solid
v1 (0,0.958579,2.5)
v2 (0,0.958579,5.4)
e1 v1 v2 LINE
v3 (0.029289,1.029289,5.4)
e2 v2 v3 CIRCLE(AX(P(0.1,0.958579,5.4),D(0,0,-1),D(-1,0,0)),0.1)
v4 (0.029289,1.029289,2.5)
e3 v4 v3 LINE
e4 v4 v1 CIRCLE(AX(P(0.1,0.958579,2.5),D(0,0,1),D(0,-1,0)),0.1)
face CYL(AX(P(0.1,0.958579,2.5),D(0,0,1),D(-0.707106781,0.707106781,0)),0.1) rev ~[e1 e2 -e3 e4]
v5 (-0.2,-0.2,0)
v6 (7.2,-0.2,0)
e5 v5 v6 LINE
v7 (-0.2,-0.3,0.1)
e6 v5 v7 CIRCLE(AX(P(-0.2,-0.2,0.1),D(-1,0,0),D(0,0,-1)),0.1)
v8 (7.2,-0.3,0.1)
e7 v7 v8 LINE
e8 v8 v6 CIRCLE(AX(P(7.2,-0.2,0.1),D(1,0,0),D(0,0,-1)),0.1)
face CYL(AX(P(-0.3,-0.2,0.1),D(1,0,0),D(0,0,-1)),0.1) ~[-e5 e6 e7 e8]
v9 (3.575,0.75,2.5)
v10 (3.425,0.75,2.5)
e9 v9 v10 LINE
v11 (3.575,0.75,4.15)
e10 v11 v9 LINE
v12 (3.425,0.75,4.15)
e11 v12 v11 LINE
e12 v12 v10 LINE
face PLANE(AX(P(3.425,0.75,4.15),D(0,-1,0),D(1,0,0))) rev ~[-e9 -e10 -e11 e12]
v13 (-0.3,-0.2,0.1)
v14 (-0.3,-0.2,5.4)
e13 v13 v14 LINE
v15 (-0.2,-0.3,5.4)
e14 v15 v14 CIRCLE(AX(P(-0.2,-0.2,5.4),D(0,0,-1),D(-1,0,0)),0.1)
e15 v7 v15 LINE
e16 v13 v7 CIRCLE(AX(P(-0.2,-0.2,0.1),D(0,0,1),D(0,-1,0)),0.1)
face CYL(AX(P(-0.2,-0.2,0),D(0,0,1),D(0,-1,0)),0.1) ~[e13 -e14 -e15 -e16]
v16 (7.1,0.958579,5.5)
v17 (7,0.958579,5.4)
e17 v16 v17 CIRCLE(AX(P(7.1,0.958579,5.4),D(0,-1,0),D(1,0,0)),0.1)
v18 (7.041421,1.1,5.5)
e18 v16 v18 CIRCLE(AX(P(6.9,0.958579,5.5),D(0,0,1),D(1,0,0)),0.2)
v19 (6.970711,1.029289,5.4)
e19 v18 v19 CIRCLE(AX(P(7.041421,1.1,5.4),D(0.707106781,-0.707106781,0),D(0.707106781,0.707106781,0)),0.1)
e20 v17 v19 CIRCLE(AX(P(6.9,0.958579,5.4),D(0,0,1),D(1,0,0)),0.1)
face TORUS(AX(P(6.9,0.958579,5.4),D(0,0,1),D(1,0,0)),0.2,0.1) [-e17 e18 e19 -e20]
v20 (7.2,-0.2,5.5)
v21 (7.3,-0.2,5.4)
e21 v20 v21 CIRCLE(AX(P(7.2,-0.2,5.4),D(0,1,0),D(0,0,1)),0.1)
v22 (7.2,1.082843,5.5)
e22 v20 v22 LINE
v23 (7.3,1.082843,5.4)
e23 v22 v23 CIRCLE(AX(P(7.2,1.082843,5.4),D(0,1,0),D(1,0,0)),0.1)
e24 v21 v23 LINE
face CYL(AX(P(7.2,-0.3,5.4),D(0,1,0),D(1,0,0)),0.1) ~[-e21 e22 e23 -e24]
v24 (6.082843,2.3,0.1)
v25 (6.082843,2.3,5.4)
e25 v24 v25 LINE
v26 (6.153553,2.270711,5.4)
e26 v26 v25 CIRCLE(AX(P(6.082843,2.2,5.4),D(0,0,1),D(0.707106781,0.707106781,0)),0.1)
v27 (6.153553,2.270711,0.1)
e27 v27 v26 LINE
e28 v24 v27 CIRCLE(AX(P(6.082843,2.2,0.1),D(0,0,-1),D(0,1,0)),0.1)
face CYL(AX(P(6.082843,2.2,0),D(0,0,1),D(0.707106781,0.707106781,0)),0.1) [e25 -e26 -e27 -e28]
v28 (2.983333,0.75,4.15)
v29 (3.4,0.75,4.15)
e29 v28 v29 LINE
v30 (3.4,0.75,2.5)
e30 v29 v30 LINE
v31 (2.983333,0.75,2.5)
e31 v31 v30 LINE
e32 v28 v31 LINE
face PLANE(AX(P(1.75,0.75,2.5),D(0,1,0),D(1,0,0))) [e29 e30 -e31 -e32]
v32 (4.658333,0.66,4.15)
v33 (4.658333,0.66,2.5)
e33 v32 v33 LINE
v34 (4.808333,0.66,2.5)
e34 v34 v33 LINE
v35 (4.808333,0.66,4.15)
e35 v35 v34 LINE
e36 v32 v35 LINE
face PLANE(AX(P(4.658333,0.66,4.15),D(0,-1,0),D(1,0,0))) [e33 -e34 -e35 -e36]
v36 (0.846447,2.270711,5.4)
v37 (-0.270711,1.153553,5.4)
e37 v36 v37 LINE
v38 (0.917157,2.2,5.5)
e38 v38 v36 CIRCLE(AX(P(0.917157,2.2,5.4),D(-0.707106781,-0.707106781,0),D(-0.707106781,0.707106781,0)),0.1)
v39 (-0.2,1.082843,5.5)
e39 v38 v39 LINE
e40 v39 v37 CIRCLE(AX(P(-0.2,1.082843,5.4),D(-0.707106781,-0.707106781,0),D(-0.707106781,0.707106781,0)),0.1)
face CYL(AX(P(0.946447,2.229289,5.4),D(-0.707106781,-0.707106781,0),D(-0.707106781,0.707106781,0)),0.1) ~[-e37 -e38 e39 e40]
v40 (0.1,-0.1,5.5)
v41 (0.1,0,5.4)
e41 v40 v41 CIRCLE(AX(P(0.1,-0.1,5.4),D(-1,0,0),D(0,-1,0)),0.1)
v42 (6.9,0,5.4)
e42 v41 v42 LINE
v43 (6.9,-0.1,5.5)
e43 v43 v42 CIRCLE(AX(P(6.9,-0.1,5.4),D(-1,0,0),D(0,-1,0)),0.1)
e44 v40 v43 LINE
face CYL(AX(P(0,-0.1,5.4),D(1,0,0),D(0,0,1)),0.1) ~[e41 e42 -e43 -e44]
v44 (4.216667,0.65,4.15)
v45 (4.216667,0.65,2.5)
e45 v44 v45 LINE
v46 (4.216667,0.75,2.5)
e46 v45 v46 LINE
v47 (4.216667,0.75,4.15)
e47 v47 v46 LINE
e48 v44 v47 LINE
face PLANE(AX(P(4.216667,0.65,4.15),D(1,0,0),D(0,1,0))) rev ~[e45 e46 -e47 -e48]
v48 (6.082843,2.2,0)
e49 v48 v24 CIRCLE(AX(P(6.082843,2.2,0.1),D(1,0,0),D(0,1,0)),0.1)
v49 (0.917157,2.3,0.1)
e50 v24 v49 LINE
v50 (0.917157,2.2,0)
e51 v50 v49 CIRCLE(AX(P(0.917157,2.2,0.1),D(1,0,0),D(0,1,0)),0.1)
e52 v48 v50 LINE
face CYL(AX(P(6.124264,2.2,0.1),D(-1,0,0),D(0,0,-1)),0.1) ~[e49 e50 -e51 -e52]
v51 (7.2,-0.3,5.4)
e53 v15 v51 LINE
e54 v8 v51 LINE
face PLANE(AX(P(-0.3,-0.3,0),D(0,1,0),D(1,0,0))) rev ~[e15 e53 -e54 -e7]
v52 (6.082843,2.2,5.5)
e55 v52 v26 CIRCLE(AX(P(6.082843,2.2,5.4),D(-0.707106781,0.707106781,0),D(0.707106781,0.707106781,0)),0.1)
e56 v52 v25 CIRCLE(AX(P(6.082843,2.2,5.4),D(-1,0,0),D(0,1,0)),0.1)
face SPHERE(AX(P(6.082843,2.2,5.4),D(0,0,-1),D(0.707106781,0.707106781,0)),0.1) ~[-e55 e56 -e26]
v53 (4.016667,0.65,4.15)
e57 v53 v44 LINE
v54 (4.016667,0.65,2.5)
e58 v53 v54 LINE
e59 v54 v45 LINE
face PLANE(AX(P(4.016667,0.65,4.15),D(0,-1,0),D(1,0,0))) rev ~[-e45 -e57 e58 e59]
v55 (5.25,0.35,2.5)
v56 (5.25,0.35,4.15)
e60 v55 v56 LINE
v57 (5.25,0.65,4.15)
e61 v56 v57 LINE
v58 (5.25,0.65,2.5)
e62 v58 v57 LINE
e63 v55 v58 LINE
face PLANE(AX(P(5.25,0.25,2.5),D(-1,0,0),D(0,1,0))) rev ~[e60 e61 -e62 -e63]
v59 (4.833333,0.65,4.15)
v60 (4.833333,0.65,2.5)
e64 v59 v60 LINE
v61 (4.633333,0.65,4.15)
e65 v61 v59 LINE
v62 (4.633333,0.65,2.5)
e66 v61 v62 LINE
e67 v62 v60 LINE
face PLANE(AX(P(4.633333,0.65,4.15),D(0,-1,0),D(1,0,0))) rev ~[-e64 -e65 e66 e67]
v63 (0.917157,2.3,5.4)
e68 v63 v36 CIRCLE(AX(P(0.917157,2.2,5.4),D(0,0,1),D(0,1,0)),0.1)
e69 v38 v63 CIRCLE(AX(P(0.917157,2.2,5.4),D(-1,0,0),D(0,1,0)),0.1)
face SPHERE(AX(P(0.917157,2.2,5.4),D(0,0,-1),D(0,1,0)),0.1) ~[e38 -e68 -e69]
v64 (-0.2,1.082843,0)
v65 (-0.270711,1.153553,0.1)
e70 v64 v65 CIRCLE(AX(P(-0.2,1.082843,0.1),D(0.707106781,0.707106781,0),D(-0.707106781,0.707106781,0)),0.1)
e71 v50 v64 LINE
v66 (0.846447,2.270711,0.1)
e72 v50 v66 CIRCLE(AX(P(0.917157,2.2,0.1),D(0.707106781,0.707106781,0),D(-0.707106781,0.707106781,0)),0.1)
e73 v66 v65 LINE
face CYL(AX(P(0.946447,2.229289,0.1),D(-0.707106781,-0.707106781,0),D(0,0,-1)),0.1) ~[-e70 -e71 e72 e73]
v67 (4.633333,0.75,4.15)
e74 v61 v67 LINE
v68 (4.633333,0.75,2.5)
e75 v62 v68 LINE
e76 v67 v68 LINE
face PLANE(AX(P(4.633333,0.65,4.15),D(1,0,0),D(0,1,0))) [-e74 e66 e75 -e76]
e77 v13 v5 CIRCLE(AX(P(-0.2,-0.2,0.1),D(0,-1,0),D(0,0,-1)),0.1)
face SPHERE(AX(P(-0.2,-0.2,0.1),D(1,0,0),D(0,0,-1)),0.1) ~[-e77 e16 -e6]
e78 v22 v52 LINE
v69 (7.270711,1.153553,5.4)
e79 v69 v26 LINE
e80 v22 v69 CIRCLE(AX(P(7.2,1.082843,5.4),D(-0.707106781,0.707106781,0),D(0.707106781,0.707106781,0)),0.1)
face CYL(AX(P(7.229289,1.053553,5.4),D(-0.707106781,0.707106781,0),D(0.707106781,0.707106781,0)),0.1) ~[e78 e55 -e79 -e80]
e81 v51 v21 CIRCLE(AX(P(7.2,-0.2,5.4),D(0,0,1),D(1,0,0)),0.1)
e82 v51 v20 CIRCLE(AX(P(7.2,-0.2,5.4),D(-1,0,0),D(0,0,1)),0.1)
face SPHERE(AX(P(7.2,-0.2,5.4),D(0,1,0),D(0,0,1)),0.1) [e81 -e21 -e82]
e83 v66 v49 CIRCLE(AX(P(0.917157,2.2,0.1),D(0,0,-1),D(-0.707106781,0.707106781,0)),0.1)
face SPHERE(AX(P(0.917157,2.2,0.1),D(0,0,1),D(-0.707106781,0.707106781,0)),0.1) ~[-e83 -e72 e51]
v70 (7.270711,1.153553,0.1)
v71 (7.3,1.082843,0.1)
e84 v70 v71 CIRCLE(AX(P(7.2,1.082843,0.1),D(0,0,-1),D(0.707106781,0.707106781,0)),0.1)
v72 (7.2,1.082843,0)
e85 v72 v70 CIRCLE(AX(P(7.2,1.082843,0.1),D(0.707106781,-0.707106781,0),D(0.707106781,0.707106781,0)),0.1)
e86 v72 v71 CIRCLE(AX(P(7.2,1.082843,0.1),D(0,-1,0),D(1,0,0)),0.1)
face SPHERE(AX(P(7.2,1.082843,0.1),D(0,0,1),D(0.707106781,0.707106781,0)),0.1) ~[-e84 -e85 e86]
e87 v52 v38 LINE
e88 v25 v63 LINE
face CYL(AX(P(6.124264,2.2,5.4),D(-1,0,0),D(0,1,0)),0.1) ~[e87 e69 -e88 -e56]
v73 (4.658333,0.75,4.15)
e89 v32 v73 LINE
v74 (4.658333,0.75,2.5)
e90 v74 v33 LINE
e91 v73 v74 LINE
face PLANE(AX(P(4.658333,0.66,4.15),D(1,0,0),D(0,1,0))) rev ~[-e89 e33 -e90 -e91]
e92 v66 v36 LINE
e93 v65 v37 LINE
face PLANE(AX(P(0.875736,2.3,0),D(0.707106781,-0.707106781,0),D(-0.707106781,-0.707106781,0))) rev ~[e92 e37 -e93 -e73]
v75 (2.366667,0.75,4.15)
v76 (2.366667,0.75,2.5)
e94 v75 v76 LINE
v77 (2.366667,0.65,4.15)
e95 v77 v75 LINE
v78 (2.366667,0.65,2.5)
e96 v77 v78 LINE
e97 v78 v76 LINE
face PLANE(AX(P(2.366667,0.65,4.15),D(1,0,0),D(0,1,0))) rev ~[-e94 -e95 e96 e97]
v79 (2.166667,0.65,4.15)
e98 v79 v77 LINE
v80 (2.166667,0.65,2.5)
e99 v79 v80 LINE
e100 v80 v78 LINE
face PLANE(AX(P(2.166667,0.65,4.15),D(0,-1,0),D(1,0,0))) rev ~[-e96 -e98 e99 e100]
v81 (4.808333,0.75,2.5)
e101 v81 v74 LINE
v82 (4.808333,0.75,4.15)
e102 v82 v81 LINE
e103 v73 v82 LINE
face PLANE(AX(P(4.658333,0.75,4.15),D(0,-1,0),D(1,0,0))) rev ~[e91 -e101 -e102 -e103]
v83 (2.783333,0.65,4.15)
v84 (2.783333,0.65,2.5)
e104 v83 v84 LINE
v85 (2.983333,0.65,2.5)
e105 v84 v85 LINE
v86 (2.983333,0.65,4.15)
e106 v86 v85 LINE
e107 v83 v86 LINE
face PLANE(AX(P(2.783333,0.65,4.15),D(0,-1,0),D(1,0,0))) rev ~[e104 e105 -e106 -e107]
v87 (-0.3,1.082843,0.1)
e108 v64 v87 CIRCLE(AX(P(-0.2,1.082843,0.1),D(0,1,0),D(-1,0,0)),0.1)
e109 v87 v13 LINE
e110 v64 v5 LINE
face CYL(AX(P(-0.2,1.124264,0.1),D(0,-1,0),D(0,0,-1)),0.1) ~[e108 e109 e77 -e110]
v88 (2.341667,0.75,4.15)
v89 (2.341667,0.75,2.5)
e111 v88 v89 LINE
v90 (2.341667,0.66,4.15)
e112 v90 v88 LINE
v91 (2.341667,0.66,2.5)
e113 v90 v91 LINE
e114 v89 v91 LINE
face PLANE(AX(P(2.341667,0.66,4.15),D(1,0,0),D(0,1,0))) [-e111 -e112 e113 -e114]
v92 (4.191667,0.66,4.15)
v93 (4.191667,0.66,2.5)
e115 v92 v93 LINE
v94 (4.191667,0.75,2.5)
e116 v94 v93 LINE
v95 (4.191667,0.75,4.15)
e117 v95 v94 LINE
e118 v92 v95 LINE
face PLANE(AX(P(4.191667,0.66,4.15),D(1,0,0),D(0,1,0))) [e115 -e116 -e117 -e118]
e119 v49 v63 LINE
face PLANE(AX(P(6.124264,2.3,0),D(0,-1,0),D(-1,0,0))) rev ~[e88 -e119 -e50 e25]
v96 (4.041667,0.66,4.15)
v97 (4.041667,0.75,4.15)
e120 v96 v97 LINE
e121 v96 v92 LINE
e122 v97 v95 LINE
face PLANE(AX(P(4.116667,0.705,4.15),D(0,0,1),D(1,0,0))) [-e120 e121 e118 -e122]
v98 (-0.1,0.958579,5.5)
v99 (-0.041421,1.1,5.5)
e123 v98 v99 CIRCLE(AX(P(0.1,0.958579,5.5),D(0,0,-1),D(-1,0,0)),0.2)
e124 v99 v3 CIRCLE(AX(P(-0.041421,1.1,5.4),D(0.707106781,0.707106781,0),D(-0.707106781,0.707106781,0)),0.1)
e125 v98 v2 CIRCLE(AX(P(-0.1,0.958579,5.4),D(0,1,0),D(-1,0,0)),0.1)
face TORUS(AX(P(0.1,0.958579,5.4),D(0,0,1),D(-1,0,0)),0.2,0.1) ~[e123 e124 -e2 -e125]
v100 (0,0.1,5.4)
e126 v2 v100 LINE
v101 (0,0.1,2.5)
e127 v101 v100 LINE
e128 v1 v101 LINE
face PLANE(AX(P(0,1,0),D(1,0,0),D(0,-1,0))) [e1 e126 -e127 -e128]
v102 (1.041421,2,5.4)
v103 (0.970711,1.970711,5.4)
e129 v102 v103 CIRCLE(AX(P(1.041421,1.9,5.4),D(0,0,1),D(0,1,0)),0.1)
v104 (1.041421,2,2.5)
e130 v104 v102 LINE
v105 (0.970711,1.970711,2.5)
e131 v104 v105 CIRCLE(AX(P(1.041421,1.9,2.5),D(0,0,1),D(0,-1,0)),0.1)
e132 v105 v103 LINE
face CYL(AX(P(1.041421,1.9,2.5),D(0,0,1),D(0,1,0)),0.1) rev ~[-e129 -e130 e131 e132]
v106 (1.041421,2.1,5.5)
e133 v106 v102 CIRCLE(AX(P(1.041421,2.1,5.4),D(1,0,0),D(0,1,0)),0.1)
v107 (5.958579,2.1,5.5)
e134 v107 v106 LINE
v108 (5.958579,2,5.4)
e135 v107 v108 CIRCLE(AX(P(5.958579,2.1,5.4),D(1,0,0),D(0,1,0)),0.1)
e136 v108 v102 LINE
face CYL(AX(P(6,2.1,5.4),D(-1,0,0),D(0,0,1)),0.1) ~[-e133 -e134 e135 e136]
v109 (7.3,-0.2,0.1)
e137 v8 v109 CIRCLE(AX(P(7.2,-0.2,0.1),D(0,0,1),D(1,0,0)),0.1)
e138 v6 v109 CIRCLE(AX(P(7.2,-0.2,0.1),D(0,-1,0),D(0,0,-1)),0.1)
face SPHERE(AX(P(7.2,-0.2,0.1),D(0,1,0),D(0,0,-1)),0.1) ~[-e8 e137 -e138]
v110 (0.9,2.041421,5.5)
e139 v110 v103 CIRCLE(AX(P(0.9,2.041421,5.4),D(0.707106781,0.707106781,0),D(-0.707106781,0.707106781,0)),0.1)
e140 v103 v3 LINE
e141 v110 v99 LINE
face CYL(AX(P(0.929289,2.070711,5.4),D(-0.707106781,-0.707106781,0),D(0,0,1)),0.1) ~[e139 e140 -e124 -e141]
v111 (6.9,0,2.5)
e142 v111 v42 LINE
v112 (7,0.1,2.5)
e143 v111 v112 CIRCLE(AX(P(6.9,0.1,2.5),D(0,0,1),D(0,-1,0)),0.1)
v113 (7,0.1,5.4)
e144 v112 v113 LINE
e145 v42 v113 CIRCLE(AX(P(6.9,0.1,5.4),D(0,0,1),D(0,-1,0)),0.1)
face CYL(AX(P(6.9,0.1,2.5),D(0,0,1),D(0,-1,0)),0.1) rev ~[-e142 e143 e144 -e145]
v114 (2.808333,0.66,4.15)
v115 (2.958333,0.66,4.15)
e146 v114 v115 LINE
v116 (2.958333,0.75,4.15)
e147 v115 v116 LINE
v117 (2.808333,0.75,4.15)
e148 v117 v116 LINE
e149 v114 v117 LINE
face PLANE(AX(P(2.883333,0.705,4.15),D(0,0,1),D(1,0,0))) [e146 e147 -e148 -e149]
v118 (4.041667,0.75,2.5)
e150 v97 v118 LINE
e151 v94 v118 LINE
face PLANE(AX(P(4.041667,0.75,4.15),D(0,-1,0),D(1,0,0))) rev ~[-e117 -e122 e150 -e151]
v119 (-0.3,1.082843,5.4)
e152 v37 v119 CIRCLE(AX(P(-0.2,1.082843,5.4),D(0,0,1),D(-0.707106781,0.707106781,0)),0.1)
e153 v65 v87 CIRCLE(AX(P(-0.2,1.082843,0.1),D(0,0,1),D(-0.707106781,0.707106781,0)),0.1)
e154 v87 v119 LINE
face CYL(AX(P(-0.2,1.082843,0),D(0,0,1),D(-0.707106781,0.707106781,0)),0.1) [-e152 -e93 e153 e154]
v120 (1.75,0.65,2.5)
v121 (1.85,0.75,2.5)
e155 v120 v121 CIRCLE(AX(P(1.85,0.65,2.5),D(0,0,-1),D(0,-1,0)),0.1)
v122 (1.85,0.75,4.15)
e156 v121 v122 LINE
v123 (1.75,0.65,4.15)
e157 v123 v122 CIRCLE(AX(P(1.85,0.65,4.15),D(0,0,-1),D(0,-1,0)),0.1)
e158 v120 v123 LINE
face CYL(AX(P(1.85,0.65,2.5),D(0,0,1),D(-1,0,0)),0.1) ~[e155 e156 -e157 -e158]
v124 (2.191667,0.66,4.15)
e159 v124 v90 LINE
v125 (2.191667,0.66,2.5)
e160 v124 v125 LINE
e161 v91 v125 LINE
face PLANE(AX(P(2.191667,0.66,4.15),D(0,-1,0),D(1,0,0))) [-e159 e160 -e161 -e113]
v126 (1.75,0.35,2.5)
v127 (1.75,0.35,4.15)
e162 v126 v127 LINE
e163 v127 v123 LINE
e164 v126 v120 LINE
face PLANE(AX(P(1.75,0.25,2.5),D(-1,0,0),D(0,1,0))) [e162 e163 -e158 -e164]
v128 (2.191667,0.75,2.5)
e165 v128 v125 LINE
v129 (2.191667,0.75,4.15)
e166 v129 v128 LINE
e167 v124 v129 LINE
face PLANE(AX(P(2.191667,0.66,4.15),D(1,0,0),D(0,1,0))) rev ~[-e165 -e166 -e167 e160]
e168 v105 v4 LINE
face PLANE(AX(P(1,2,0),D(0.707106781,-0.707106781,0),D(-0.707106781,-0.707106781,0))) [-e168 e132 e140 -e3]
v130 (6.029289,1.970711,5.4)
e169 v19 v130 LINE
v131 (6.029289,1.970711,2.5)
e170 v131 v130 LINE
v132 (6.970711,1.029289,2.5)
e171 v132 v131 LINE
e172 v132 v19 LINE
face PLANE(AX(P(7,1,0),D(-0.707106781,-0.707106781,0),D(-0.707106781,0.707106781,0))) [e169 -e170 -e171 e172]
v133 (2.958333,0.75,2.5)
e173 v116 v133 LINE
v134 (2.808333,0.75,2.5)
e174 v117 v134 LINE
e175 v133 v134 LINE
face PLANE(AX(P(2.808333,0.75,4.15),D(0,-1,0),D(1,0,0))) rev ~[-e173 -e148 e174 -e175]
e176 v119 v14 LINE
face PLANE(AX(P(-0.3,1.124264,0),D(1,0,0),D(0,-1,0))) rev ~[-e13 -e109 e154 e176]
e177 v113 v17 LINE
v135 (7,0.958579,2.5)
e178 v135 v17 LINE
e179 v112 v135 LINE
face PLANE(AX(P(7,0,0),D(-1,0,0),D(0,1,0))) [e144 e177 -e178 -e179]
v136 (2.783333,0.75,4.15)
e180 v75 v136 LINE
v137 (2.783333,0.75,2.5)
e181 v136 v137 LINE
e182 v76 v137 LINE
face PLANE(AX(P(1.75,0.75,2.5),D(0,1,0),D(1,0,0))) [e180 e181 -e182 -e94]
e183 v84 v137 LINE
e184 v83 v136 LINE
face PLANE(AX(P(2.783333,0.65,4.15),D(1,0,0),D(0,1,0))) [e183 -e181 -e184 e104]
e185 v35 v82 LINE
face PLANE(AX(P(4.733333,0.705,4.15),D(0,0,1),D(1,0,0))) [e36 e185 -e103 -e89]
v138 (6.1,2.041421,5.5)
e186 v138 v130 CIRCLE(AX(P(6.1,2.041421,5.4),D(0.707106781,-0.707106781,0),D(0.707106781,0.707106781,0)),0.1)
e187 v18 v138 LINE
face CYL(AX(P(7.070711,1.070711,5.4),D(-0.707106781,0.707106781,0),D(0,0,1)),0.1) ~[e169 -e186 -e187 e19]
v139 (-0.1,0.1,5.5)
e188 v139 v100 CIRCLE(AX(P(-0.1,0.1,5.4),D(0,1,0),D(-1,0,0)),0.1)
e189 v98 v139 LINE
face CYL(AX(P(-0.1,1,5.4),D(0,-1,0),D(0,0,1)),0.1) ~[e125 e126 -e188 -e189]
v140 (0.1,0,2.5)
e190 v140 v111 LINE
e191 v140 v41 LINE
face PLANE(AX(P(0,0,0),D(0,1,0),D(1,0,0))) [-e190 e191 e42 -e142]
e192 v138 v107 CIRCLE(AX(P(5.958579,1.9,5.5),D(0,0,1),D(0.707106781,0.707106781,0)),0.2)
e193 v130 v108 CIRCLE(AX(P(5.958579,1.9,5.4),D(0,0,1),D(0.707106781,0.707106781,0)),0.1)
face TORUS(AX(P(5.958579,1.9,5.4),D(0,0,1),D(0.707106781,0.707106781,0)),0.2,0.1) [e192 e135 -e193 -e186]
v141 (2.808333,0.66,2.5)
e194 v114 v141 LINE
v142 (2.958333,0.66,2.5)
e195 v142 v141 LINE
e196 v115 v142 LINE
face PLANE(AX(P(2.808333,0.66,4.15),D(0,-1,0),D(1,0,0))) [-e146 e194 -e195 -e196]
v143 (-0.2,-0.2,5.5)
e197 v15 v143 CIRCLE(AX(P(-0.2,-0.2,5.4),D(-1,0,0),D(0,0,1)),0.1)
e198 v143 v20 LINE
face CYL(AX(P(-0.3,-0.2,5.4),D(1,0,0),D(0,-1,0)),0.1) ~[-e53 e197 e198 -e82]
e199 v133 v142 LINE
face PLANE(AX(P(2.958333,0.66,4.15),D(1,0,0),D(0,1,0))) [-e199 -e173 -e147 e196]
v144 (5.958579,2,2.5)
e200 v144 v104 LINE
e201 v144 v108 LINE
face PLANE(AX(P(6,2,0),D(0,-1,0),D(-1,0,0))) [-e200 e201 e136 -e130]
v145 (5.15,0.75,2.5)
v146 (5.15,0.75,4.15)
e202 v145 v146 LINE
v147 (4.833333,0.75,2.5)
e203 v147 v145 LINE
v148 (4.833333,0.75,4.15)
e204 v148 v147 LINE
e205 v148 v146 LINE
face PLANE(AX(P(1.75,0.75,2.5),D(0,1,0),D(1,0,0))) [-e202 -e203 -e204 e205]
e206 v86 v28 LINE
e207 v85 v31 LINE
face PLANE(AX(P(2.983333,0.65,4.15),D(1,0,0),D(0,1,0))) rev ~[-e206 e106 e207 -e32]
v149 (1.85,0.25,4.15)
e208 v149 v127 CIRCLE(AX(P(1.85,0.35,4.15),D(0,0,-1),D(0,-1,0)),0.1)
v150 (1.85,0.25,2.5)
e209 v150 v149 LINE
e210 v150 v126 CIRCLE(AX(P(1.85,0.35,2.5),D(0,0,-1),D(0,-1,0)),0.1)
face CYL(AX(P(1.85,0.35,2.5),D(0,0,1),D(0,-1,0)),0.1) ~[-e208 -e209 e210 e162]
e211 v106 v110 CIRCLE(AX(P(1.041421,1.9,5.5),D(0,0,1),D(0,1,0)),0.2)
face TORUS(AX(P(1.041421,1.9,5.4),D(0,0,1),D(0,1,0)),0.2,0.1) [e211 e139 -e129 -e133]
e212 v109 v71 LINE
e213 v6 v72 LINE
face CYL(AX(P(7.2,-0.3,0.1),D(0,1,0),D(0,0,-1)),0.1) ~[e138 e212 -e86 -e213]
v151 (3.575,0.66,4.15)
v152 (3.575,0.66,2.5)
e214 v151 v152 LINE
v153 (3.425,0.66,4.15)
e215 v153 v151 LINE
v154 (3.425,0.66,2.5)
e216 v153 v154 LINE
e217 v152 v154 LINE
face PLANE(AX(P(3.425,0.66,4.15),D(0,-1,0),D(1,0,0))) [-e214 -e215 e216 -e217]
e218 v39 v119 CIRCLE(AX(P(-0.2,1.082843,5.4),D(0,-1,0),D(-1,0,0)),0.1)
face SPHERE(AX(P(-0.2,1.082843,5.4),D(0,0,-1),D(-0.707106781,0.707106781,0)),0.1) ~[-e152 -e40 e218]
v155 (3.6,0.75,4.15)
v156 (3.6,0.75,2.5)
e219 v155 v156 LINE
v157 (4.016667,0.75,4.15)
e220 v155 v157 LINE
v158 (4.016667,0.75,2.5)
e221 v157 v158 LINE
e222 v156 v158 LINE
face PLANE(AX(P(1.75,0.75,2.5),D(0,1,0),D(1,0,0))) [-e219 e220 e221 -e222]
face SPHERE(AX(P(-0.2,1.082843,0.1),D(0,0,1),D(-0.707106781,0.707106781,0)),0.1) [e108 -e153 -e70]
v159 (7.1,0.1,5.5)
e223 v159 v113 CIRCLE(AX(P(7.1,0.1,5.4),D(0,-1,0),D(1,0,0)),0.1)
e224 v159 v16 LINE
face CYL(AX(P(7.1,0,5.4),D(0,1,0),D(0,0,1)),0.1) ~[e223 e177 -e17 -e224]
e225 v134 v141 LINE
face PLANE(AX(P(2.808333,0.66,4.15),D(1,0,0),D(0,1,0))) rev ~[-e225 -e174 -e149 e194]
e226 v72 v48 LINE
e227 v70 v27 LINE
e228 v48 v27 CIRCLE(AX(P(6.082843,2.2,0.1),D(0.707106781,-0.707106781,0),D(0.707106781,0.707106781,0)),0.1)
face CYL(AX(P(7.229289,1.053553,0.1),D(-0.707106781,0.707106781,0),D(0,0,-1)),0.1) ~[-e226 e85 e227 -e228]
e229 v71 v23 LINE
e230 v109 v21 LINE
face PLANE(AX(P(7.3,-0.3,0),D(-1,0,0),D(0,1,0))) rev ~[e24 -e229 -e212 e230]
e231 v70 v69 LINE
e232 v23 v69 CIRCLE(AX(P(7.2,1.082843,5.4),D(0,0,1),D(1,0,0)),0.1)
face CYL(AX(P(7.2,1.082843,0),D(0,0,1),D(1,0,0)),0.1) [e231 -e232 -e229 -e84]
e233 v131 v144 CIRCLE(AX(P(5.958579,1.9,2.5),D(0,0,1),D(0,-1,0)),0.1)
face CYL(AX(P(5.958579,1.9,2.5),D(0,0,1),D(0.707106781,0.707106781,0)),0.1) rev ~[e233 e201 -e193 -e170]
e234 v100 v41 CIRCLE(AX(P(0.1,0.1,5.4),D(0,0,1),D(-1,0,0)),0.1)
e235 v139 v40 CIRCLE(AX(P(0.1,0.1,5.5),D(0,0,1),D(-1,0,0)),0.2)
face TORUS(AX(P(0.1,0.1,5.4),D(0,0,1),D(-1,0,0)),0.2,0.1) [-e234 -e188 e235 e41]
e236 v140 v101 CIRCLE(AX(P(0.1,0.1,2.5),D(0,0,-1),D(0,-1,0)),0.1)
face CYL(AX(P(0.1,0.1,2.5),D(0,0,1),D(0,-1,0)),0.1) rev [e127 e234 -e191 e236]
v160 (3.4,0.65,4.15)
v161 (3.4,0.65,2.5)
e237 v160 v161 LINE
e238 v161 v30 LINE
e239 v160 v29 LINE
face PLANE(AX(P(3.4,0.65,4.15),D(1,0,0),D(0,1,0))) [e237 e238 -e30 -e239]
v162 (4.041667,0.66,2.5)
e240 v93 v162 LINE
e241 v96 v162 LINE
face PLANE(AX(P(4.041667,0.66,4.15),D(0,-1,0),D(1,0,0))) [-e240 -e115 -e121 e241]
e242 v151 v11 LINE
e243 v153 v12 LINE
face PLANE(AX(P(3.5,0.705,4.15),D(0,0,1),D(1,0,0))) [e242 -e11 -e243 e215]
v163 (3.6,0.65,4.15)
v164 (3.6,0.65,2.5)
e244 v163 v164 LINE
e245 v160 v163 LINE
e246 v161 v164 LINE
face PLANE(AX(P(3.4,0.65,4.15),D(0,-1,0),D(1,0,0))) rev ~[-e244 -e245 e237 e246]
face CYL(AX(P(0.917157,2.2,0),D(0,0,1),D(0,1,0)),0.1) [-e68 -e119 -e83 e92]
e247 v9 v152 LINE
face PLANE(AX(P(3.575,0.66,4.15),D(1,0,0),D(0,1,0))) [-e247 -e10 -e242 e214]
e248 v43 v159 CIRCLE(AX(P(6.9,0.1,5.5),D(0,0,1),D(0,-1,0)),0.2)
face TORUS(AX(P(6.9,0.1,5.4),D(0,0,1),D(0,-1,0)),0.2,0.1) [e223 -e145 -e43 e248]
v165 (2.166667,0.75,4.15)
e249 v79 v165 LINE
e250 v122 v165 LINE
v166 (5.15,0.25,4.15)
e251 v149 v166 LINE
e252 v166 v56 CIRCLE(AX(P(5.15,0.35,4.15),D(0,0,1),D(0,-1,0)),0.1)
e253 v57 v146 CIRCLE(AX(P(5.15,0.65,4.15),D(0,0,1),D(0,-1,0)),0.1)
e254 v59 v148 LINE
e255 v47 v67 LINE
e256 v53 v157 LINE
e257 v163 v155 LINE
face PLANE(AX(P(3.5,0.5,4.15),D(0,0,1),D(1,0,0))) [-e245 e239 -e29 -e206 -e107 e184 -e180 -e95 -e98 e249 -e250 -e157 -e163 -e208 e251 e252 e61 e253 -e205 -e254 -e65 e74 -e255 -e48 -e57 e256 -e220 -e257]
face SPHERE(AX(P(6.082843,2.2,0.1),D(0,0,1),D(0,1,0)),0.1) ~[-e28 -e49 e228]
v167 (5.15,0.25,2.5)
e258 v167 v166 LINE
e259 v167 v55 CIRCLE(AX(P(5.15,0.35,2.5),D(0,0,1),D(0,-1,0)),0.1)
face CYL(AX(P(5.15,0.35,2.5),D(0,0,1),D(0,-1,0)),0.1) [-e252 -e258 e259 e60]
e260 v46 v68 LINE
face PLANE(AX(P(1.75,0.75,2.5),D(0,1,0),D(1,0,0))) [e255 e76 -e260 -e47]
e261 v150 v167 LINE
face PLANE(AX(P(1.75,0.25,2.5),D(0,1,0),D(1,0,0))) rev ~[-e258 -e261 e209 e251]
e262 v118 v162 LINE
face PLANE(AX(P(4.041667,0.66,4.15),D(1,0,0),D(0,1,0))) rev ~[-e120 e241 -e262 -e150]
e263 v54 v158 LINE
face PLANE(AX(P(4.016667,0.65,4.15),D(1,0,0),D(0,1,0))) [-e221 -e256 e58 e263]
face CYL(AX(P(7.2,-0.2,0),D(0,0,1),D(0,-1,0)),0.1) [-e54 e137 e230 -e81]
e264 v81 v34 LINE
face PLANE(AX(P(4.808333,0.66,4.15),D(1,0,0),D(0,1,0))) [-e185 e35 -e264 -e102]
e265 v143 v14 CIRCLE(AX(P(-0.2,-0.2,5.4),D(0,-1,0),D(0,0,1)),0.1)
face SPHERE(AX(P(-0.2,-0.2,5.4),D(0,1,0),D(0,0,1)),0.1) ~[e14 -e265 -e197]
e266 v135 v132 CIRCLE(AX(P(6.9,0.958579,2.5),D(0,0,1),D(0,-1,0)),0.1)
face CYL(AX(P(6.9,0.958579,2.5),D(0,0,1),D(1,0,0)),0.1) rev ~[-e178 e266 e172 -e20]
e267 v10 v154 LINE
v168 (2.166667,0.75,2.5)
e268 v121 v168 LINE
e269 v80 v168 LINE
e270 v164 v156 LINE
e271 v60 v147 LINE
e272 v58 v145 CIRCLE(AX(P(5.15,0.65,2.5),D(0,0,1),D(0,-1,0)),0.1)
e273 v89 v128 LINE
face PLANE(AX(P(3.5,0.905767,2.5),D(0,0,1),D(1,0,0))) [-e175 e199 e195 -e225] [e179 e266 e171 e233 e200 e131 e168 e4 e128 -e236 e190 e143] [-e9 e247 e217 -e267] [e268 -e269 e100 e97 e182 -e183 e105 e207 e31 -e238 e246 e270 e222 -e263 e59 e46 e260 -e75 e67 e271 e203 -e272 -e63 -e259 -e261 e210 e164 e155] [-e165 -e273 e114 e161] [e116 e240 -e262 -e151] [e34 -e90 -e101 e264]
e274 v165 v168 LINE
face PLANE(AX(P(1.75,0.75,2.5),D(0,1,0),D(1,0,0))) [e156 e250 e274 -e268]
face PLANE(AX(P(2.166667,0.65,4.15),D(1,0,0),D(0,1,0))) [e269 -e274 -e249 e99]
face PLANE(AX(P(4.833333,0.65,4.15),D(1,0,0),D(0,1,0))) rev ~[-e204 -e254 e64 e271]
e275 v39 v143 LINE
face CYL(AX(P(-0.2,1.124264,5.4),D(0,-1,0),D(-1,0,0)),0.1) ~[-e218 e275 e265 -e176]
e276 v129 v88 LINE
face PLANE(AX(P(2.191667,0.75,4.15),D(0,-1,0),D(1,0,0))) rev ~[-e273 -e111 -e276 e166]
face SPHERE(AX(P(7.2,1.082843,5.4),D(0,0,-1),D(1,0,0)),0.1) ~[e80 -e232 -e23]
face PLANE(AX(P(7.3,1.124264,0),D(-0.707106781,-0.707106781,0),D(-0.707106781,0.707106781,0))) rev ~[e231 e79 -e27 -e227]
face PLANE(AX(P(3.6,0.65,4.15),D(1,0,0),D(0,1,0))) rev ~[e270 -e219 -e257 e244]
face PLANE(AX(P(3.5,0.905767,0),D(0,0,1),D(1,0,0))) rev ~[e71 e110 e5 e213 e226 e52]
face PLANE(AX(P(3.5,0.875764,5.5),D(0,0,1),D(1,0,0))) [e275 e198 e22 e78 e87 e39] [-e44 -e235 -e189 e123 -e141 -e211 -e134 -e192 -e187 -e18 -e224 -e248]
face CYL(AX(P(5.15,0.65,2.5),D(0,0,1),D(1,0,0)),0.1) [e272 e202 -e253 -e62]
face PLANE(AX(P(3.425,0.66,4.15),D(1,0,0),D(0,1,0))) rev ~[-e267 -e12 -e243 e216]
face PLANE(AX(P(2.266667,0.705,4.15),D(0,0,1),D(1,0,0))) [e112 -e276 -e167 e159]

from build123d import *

# Parameters (mm, degrees)
EXTRUDE_THIN1_DEPTH = 5.5
BOSS_EXTRUDE1_DEPTH = 2.5
SKETCH3_W           = 3.5
SKETCH3_H           = 0.5
BOSS_EXTRUDE2_DEPTH = 1.65
SKETCH4_W           = 0.2
SKETCH4_H           = 0.1
CUT_EXTRUDE1_DEPTH  = 1.65
BOSS_EXTRUDE4_REACH = 6.15
SKETCH5_W           = 0.15
SKETCH5_H           = 0.09
FILLET1_R           = 0.1


with BuildPart() as part:
    # Sketch1 → Extrude-Thin1 (new body)
    with BuildSketch(Plane.XY):
        Polygon((-0.3, -0.3), (7.3, -0.3), (7.3, 1.124264069), (6.124264069, 2.3), (0.875735931, 2.3), (-0.3, 1.124264069), align=None)
        Polygon((0, 0), (7, 0), (7, 1), (6, 2), (1, 2), (0, 1), align=None, mode=Mode.SUBTRACT)
    extrude(amount=EXTRUDE_THIN1_DEPTH)

    # Sketch2 → Boss-Extrude1 (add)
    with BuildSketch(Plane(origin=(0, 0, 0), x_dir=(-1, 0, 0), z_dir=(0, 0, -1))):
        Polygon((-6, 2), (-1, 2), (0, 1), (0, 0), (-7, 0), (-7, 1), align=None)
    extrude(amount=-BOSS_EXTRUDE1_DEPTH)

    # Sketch3 → Boss-Extrude2 (add)
    with BuildSketch(Plane.XY.offset(2.5)):
        with Locations((3.5, 0.5)):
            Rectangle(SKETCH3_W, SKETCH3_H)
    extrude(amount=BOSS_EXTRUDE2_DEPTH)

    # Sketch4 → Cut-Extrude1 (cut)
    with BuildSketch(Plane.XY.offset(4.15)):
        with Locations((2.266666667, 0.7)):
            Rectangle(SKETCH4_W, SKETCH4_H)
        with Locations((2.883333333, 0.7)):
            Rectangle(SKETCH4_W, SKETCH4_H)
        with Locations((3.5, 0.7)):
            Rectangle(SKETCH4_W, SKETCH4_H)
        with Locations((4.116666667, 0.7)):
            Rectangle(SKETCH4_W, SKETCH4_H)
        with Locations((4.733333333, 0.7)):
            Rectangle(SKETCH4_W, SKETCH4_H)
    extrude(amount=-CUT_EXTRUDE1_DEPTH, mode=Mode.SUBTRACT)

    # Sketch5 → Boss-Extrude4 (add, up to next)
    with BuildSketch(Plane.XY.offset(4.15), mode=Mode.PRIVATE) as boss_extrude4_sk1:
        with Locations((2.266666667, 0.705)):
            Rectangle(SKETCH5_W, SKETCH5_H)
    boss_extrude4_tool1 = extrude(boss_extrude4_sk1.sketch, amount=-BOSS_EXTRUDE4_REACH, mode=Mode.PRIVATE) - part.part
    add(boss_extrude4_tool1.solids().sort_by_distance((2.266667, 0.705, 4.15))[0])
    # Sketch5 → Boss-Extrude4 (add, up to next)
    with BuildSketch(Plane.XY.offset(4.15), mode=Mode.PRIVATE) as boss_extrude4_sk2:
        with Locations((2.883333333, 0.705)):
            Rectangle(SKETCH5_W, SKETCH5_H)
    boss_extrude4_tool2 = extrude(boss_extrude4_sk2.sketch, amount=-BOSS_EXTRUDE4_REACH, mode=Mode.PRIVATE) - part.part
    add(boss_extrude4_tool2.solids().sort_by_distance((2.883333, 0.705, 4.15))[0])
    # Sketch5 → Boss-Extrude4 (add, up to next)
    with BuildSketch(Plane.XY.offset(4.15), mode=Mode.PRIVATE) as boss_extrude4_sk3:
        with Locations((3.5, 0.705)):
            Rectangle(SKETCH5_W, SKETCH5_H)
    boss_extrude4_tool3 = extrude(boss_extrude4_sk3.sketch, amount=-BOSS_EXTRUDE4_REACH, mode=Mode.PRIVATE) - part.part
    add(boss_extrude4_tool3.solids().sort_by_distance((3.5, 0.705, 4.15))[0])
    # Sketch5 → Boss-Extrude4 (add, up to next)
    with BuildSketch(Plane.XY.offset(4.15), mode=Mode.PRIVATE) as boss_extrude4_sk4:
        with Locations((4.116666667, 0.705)):
            Rectangle(SKETCH5_W, SKETCH5_H)
    boss_extrude4_tool4 = extrude(boss_extrude4_sk4.sketch, amount=-BOSS_EXTRUDE4_REACH, mode=Mode.PRIVATE) - part.part
    add(boss_extrude4_tool4.solids().sort_by_distance((4.116667, 0.705, 4.15))[0])
    # Sketch5 → Boss-Extrude4 (add, up to next)
    with BuildSketch(Plane.XY.offset(4.15), mode=Mode.PRIVATE) as boss_extrude4_sk5:
        with Locations((4.733333333, 0.705)):
            Rectangle(SKETCH5_W, SKETCH5_H)
    boss_extrude4_tool5 = extrude(boss_extrude4_sk5.sketch, amount=-BOSS_EXTRUDE4_REACH, mode=Mode.PRIVATE) - part.part
    add(boss_extrude4_tool5.solids().sort_by_distance((4.733333, 0.705, 4.15))[0])

    # Fillet1
    fillet1_edges = [part.edges().sort_by_distance(p)[0] for p in [
        (7.3, 0.412132034, 5.5),
        (6.712132034, 1.712132034, 5.5),
        (3.5, 2.3, 5.5),
        (0, 1, 4),
        (0.287867966, 1.712132034, 5.5),
        (0, 0, 4),
        (7, 0, 4),
        (7, 1, 4),
        (6, 2, 4),
        (1, 2, 4),
        (0, 0.5, 5.5),
        (3.5, 0, 5.5),
        (7, 0.5, 5.5),
        (6.5, 1.5, 5.5),
        (3.5, 2, 5.5),
        (0.5, 1.5, 5.5),
        (-0.3, 0.412132034, 5.5),
        (0.287867966, 1.712132034, 0),
        (3.5, 2.3, 0),
        (6.712132034, 1.712132034, 0),
        (7.3, 0.412132034, 0),
        (3.5, -0.3, 0),
        (-0.3, 0.412132034, 0),
        (1.75, 0.75, 3.325),
        (1.75, 0.25, 3.325),
        (5.25, 0.25, 3.325),
        (5.25, 0.75, 3.325),
        (3.5, -0.3, 5.5),
        (-0.3, 1.124264069, 2.75),
        (0.875735931, 2.3, 2.75),
        (6.124264069, 2.3, 2.75),
        (7.3, 1.124264069, 2.75),
        (7.3, -0.3, 2.75),
        (-0.3, -0.3, 2.75),
    ]]
    fillet(fillet1_edges, radius=FILLET1_R)


solid = part.part
